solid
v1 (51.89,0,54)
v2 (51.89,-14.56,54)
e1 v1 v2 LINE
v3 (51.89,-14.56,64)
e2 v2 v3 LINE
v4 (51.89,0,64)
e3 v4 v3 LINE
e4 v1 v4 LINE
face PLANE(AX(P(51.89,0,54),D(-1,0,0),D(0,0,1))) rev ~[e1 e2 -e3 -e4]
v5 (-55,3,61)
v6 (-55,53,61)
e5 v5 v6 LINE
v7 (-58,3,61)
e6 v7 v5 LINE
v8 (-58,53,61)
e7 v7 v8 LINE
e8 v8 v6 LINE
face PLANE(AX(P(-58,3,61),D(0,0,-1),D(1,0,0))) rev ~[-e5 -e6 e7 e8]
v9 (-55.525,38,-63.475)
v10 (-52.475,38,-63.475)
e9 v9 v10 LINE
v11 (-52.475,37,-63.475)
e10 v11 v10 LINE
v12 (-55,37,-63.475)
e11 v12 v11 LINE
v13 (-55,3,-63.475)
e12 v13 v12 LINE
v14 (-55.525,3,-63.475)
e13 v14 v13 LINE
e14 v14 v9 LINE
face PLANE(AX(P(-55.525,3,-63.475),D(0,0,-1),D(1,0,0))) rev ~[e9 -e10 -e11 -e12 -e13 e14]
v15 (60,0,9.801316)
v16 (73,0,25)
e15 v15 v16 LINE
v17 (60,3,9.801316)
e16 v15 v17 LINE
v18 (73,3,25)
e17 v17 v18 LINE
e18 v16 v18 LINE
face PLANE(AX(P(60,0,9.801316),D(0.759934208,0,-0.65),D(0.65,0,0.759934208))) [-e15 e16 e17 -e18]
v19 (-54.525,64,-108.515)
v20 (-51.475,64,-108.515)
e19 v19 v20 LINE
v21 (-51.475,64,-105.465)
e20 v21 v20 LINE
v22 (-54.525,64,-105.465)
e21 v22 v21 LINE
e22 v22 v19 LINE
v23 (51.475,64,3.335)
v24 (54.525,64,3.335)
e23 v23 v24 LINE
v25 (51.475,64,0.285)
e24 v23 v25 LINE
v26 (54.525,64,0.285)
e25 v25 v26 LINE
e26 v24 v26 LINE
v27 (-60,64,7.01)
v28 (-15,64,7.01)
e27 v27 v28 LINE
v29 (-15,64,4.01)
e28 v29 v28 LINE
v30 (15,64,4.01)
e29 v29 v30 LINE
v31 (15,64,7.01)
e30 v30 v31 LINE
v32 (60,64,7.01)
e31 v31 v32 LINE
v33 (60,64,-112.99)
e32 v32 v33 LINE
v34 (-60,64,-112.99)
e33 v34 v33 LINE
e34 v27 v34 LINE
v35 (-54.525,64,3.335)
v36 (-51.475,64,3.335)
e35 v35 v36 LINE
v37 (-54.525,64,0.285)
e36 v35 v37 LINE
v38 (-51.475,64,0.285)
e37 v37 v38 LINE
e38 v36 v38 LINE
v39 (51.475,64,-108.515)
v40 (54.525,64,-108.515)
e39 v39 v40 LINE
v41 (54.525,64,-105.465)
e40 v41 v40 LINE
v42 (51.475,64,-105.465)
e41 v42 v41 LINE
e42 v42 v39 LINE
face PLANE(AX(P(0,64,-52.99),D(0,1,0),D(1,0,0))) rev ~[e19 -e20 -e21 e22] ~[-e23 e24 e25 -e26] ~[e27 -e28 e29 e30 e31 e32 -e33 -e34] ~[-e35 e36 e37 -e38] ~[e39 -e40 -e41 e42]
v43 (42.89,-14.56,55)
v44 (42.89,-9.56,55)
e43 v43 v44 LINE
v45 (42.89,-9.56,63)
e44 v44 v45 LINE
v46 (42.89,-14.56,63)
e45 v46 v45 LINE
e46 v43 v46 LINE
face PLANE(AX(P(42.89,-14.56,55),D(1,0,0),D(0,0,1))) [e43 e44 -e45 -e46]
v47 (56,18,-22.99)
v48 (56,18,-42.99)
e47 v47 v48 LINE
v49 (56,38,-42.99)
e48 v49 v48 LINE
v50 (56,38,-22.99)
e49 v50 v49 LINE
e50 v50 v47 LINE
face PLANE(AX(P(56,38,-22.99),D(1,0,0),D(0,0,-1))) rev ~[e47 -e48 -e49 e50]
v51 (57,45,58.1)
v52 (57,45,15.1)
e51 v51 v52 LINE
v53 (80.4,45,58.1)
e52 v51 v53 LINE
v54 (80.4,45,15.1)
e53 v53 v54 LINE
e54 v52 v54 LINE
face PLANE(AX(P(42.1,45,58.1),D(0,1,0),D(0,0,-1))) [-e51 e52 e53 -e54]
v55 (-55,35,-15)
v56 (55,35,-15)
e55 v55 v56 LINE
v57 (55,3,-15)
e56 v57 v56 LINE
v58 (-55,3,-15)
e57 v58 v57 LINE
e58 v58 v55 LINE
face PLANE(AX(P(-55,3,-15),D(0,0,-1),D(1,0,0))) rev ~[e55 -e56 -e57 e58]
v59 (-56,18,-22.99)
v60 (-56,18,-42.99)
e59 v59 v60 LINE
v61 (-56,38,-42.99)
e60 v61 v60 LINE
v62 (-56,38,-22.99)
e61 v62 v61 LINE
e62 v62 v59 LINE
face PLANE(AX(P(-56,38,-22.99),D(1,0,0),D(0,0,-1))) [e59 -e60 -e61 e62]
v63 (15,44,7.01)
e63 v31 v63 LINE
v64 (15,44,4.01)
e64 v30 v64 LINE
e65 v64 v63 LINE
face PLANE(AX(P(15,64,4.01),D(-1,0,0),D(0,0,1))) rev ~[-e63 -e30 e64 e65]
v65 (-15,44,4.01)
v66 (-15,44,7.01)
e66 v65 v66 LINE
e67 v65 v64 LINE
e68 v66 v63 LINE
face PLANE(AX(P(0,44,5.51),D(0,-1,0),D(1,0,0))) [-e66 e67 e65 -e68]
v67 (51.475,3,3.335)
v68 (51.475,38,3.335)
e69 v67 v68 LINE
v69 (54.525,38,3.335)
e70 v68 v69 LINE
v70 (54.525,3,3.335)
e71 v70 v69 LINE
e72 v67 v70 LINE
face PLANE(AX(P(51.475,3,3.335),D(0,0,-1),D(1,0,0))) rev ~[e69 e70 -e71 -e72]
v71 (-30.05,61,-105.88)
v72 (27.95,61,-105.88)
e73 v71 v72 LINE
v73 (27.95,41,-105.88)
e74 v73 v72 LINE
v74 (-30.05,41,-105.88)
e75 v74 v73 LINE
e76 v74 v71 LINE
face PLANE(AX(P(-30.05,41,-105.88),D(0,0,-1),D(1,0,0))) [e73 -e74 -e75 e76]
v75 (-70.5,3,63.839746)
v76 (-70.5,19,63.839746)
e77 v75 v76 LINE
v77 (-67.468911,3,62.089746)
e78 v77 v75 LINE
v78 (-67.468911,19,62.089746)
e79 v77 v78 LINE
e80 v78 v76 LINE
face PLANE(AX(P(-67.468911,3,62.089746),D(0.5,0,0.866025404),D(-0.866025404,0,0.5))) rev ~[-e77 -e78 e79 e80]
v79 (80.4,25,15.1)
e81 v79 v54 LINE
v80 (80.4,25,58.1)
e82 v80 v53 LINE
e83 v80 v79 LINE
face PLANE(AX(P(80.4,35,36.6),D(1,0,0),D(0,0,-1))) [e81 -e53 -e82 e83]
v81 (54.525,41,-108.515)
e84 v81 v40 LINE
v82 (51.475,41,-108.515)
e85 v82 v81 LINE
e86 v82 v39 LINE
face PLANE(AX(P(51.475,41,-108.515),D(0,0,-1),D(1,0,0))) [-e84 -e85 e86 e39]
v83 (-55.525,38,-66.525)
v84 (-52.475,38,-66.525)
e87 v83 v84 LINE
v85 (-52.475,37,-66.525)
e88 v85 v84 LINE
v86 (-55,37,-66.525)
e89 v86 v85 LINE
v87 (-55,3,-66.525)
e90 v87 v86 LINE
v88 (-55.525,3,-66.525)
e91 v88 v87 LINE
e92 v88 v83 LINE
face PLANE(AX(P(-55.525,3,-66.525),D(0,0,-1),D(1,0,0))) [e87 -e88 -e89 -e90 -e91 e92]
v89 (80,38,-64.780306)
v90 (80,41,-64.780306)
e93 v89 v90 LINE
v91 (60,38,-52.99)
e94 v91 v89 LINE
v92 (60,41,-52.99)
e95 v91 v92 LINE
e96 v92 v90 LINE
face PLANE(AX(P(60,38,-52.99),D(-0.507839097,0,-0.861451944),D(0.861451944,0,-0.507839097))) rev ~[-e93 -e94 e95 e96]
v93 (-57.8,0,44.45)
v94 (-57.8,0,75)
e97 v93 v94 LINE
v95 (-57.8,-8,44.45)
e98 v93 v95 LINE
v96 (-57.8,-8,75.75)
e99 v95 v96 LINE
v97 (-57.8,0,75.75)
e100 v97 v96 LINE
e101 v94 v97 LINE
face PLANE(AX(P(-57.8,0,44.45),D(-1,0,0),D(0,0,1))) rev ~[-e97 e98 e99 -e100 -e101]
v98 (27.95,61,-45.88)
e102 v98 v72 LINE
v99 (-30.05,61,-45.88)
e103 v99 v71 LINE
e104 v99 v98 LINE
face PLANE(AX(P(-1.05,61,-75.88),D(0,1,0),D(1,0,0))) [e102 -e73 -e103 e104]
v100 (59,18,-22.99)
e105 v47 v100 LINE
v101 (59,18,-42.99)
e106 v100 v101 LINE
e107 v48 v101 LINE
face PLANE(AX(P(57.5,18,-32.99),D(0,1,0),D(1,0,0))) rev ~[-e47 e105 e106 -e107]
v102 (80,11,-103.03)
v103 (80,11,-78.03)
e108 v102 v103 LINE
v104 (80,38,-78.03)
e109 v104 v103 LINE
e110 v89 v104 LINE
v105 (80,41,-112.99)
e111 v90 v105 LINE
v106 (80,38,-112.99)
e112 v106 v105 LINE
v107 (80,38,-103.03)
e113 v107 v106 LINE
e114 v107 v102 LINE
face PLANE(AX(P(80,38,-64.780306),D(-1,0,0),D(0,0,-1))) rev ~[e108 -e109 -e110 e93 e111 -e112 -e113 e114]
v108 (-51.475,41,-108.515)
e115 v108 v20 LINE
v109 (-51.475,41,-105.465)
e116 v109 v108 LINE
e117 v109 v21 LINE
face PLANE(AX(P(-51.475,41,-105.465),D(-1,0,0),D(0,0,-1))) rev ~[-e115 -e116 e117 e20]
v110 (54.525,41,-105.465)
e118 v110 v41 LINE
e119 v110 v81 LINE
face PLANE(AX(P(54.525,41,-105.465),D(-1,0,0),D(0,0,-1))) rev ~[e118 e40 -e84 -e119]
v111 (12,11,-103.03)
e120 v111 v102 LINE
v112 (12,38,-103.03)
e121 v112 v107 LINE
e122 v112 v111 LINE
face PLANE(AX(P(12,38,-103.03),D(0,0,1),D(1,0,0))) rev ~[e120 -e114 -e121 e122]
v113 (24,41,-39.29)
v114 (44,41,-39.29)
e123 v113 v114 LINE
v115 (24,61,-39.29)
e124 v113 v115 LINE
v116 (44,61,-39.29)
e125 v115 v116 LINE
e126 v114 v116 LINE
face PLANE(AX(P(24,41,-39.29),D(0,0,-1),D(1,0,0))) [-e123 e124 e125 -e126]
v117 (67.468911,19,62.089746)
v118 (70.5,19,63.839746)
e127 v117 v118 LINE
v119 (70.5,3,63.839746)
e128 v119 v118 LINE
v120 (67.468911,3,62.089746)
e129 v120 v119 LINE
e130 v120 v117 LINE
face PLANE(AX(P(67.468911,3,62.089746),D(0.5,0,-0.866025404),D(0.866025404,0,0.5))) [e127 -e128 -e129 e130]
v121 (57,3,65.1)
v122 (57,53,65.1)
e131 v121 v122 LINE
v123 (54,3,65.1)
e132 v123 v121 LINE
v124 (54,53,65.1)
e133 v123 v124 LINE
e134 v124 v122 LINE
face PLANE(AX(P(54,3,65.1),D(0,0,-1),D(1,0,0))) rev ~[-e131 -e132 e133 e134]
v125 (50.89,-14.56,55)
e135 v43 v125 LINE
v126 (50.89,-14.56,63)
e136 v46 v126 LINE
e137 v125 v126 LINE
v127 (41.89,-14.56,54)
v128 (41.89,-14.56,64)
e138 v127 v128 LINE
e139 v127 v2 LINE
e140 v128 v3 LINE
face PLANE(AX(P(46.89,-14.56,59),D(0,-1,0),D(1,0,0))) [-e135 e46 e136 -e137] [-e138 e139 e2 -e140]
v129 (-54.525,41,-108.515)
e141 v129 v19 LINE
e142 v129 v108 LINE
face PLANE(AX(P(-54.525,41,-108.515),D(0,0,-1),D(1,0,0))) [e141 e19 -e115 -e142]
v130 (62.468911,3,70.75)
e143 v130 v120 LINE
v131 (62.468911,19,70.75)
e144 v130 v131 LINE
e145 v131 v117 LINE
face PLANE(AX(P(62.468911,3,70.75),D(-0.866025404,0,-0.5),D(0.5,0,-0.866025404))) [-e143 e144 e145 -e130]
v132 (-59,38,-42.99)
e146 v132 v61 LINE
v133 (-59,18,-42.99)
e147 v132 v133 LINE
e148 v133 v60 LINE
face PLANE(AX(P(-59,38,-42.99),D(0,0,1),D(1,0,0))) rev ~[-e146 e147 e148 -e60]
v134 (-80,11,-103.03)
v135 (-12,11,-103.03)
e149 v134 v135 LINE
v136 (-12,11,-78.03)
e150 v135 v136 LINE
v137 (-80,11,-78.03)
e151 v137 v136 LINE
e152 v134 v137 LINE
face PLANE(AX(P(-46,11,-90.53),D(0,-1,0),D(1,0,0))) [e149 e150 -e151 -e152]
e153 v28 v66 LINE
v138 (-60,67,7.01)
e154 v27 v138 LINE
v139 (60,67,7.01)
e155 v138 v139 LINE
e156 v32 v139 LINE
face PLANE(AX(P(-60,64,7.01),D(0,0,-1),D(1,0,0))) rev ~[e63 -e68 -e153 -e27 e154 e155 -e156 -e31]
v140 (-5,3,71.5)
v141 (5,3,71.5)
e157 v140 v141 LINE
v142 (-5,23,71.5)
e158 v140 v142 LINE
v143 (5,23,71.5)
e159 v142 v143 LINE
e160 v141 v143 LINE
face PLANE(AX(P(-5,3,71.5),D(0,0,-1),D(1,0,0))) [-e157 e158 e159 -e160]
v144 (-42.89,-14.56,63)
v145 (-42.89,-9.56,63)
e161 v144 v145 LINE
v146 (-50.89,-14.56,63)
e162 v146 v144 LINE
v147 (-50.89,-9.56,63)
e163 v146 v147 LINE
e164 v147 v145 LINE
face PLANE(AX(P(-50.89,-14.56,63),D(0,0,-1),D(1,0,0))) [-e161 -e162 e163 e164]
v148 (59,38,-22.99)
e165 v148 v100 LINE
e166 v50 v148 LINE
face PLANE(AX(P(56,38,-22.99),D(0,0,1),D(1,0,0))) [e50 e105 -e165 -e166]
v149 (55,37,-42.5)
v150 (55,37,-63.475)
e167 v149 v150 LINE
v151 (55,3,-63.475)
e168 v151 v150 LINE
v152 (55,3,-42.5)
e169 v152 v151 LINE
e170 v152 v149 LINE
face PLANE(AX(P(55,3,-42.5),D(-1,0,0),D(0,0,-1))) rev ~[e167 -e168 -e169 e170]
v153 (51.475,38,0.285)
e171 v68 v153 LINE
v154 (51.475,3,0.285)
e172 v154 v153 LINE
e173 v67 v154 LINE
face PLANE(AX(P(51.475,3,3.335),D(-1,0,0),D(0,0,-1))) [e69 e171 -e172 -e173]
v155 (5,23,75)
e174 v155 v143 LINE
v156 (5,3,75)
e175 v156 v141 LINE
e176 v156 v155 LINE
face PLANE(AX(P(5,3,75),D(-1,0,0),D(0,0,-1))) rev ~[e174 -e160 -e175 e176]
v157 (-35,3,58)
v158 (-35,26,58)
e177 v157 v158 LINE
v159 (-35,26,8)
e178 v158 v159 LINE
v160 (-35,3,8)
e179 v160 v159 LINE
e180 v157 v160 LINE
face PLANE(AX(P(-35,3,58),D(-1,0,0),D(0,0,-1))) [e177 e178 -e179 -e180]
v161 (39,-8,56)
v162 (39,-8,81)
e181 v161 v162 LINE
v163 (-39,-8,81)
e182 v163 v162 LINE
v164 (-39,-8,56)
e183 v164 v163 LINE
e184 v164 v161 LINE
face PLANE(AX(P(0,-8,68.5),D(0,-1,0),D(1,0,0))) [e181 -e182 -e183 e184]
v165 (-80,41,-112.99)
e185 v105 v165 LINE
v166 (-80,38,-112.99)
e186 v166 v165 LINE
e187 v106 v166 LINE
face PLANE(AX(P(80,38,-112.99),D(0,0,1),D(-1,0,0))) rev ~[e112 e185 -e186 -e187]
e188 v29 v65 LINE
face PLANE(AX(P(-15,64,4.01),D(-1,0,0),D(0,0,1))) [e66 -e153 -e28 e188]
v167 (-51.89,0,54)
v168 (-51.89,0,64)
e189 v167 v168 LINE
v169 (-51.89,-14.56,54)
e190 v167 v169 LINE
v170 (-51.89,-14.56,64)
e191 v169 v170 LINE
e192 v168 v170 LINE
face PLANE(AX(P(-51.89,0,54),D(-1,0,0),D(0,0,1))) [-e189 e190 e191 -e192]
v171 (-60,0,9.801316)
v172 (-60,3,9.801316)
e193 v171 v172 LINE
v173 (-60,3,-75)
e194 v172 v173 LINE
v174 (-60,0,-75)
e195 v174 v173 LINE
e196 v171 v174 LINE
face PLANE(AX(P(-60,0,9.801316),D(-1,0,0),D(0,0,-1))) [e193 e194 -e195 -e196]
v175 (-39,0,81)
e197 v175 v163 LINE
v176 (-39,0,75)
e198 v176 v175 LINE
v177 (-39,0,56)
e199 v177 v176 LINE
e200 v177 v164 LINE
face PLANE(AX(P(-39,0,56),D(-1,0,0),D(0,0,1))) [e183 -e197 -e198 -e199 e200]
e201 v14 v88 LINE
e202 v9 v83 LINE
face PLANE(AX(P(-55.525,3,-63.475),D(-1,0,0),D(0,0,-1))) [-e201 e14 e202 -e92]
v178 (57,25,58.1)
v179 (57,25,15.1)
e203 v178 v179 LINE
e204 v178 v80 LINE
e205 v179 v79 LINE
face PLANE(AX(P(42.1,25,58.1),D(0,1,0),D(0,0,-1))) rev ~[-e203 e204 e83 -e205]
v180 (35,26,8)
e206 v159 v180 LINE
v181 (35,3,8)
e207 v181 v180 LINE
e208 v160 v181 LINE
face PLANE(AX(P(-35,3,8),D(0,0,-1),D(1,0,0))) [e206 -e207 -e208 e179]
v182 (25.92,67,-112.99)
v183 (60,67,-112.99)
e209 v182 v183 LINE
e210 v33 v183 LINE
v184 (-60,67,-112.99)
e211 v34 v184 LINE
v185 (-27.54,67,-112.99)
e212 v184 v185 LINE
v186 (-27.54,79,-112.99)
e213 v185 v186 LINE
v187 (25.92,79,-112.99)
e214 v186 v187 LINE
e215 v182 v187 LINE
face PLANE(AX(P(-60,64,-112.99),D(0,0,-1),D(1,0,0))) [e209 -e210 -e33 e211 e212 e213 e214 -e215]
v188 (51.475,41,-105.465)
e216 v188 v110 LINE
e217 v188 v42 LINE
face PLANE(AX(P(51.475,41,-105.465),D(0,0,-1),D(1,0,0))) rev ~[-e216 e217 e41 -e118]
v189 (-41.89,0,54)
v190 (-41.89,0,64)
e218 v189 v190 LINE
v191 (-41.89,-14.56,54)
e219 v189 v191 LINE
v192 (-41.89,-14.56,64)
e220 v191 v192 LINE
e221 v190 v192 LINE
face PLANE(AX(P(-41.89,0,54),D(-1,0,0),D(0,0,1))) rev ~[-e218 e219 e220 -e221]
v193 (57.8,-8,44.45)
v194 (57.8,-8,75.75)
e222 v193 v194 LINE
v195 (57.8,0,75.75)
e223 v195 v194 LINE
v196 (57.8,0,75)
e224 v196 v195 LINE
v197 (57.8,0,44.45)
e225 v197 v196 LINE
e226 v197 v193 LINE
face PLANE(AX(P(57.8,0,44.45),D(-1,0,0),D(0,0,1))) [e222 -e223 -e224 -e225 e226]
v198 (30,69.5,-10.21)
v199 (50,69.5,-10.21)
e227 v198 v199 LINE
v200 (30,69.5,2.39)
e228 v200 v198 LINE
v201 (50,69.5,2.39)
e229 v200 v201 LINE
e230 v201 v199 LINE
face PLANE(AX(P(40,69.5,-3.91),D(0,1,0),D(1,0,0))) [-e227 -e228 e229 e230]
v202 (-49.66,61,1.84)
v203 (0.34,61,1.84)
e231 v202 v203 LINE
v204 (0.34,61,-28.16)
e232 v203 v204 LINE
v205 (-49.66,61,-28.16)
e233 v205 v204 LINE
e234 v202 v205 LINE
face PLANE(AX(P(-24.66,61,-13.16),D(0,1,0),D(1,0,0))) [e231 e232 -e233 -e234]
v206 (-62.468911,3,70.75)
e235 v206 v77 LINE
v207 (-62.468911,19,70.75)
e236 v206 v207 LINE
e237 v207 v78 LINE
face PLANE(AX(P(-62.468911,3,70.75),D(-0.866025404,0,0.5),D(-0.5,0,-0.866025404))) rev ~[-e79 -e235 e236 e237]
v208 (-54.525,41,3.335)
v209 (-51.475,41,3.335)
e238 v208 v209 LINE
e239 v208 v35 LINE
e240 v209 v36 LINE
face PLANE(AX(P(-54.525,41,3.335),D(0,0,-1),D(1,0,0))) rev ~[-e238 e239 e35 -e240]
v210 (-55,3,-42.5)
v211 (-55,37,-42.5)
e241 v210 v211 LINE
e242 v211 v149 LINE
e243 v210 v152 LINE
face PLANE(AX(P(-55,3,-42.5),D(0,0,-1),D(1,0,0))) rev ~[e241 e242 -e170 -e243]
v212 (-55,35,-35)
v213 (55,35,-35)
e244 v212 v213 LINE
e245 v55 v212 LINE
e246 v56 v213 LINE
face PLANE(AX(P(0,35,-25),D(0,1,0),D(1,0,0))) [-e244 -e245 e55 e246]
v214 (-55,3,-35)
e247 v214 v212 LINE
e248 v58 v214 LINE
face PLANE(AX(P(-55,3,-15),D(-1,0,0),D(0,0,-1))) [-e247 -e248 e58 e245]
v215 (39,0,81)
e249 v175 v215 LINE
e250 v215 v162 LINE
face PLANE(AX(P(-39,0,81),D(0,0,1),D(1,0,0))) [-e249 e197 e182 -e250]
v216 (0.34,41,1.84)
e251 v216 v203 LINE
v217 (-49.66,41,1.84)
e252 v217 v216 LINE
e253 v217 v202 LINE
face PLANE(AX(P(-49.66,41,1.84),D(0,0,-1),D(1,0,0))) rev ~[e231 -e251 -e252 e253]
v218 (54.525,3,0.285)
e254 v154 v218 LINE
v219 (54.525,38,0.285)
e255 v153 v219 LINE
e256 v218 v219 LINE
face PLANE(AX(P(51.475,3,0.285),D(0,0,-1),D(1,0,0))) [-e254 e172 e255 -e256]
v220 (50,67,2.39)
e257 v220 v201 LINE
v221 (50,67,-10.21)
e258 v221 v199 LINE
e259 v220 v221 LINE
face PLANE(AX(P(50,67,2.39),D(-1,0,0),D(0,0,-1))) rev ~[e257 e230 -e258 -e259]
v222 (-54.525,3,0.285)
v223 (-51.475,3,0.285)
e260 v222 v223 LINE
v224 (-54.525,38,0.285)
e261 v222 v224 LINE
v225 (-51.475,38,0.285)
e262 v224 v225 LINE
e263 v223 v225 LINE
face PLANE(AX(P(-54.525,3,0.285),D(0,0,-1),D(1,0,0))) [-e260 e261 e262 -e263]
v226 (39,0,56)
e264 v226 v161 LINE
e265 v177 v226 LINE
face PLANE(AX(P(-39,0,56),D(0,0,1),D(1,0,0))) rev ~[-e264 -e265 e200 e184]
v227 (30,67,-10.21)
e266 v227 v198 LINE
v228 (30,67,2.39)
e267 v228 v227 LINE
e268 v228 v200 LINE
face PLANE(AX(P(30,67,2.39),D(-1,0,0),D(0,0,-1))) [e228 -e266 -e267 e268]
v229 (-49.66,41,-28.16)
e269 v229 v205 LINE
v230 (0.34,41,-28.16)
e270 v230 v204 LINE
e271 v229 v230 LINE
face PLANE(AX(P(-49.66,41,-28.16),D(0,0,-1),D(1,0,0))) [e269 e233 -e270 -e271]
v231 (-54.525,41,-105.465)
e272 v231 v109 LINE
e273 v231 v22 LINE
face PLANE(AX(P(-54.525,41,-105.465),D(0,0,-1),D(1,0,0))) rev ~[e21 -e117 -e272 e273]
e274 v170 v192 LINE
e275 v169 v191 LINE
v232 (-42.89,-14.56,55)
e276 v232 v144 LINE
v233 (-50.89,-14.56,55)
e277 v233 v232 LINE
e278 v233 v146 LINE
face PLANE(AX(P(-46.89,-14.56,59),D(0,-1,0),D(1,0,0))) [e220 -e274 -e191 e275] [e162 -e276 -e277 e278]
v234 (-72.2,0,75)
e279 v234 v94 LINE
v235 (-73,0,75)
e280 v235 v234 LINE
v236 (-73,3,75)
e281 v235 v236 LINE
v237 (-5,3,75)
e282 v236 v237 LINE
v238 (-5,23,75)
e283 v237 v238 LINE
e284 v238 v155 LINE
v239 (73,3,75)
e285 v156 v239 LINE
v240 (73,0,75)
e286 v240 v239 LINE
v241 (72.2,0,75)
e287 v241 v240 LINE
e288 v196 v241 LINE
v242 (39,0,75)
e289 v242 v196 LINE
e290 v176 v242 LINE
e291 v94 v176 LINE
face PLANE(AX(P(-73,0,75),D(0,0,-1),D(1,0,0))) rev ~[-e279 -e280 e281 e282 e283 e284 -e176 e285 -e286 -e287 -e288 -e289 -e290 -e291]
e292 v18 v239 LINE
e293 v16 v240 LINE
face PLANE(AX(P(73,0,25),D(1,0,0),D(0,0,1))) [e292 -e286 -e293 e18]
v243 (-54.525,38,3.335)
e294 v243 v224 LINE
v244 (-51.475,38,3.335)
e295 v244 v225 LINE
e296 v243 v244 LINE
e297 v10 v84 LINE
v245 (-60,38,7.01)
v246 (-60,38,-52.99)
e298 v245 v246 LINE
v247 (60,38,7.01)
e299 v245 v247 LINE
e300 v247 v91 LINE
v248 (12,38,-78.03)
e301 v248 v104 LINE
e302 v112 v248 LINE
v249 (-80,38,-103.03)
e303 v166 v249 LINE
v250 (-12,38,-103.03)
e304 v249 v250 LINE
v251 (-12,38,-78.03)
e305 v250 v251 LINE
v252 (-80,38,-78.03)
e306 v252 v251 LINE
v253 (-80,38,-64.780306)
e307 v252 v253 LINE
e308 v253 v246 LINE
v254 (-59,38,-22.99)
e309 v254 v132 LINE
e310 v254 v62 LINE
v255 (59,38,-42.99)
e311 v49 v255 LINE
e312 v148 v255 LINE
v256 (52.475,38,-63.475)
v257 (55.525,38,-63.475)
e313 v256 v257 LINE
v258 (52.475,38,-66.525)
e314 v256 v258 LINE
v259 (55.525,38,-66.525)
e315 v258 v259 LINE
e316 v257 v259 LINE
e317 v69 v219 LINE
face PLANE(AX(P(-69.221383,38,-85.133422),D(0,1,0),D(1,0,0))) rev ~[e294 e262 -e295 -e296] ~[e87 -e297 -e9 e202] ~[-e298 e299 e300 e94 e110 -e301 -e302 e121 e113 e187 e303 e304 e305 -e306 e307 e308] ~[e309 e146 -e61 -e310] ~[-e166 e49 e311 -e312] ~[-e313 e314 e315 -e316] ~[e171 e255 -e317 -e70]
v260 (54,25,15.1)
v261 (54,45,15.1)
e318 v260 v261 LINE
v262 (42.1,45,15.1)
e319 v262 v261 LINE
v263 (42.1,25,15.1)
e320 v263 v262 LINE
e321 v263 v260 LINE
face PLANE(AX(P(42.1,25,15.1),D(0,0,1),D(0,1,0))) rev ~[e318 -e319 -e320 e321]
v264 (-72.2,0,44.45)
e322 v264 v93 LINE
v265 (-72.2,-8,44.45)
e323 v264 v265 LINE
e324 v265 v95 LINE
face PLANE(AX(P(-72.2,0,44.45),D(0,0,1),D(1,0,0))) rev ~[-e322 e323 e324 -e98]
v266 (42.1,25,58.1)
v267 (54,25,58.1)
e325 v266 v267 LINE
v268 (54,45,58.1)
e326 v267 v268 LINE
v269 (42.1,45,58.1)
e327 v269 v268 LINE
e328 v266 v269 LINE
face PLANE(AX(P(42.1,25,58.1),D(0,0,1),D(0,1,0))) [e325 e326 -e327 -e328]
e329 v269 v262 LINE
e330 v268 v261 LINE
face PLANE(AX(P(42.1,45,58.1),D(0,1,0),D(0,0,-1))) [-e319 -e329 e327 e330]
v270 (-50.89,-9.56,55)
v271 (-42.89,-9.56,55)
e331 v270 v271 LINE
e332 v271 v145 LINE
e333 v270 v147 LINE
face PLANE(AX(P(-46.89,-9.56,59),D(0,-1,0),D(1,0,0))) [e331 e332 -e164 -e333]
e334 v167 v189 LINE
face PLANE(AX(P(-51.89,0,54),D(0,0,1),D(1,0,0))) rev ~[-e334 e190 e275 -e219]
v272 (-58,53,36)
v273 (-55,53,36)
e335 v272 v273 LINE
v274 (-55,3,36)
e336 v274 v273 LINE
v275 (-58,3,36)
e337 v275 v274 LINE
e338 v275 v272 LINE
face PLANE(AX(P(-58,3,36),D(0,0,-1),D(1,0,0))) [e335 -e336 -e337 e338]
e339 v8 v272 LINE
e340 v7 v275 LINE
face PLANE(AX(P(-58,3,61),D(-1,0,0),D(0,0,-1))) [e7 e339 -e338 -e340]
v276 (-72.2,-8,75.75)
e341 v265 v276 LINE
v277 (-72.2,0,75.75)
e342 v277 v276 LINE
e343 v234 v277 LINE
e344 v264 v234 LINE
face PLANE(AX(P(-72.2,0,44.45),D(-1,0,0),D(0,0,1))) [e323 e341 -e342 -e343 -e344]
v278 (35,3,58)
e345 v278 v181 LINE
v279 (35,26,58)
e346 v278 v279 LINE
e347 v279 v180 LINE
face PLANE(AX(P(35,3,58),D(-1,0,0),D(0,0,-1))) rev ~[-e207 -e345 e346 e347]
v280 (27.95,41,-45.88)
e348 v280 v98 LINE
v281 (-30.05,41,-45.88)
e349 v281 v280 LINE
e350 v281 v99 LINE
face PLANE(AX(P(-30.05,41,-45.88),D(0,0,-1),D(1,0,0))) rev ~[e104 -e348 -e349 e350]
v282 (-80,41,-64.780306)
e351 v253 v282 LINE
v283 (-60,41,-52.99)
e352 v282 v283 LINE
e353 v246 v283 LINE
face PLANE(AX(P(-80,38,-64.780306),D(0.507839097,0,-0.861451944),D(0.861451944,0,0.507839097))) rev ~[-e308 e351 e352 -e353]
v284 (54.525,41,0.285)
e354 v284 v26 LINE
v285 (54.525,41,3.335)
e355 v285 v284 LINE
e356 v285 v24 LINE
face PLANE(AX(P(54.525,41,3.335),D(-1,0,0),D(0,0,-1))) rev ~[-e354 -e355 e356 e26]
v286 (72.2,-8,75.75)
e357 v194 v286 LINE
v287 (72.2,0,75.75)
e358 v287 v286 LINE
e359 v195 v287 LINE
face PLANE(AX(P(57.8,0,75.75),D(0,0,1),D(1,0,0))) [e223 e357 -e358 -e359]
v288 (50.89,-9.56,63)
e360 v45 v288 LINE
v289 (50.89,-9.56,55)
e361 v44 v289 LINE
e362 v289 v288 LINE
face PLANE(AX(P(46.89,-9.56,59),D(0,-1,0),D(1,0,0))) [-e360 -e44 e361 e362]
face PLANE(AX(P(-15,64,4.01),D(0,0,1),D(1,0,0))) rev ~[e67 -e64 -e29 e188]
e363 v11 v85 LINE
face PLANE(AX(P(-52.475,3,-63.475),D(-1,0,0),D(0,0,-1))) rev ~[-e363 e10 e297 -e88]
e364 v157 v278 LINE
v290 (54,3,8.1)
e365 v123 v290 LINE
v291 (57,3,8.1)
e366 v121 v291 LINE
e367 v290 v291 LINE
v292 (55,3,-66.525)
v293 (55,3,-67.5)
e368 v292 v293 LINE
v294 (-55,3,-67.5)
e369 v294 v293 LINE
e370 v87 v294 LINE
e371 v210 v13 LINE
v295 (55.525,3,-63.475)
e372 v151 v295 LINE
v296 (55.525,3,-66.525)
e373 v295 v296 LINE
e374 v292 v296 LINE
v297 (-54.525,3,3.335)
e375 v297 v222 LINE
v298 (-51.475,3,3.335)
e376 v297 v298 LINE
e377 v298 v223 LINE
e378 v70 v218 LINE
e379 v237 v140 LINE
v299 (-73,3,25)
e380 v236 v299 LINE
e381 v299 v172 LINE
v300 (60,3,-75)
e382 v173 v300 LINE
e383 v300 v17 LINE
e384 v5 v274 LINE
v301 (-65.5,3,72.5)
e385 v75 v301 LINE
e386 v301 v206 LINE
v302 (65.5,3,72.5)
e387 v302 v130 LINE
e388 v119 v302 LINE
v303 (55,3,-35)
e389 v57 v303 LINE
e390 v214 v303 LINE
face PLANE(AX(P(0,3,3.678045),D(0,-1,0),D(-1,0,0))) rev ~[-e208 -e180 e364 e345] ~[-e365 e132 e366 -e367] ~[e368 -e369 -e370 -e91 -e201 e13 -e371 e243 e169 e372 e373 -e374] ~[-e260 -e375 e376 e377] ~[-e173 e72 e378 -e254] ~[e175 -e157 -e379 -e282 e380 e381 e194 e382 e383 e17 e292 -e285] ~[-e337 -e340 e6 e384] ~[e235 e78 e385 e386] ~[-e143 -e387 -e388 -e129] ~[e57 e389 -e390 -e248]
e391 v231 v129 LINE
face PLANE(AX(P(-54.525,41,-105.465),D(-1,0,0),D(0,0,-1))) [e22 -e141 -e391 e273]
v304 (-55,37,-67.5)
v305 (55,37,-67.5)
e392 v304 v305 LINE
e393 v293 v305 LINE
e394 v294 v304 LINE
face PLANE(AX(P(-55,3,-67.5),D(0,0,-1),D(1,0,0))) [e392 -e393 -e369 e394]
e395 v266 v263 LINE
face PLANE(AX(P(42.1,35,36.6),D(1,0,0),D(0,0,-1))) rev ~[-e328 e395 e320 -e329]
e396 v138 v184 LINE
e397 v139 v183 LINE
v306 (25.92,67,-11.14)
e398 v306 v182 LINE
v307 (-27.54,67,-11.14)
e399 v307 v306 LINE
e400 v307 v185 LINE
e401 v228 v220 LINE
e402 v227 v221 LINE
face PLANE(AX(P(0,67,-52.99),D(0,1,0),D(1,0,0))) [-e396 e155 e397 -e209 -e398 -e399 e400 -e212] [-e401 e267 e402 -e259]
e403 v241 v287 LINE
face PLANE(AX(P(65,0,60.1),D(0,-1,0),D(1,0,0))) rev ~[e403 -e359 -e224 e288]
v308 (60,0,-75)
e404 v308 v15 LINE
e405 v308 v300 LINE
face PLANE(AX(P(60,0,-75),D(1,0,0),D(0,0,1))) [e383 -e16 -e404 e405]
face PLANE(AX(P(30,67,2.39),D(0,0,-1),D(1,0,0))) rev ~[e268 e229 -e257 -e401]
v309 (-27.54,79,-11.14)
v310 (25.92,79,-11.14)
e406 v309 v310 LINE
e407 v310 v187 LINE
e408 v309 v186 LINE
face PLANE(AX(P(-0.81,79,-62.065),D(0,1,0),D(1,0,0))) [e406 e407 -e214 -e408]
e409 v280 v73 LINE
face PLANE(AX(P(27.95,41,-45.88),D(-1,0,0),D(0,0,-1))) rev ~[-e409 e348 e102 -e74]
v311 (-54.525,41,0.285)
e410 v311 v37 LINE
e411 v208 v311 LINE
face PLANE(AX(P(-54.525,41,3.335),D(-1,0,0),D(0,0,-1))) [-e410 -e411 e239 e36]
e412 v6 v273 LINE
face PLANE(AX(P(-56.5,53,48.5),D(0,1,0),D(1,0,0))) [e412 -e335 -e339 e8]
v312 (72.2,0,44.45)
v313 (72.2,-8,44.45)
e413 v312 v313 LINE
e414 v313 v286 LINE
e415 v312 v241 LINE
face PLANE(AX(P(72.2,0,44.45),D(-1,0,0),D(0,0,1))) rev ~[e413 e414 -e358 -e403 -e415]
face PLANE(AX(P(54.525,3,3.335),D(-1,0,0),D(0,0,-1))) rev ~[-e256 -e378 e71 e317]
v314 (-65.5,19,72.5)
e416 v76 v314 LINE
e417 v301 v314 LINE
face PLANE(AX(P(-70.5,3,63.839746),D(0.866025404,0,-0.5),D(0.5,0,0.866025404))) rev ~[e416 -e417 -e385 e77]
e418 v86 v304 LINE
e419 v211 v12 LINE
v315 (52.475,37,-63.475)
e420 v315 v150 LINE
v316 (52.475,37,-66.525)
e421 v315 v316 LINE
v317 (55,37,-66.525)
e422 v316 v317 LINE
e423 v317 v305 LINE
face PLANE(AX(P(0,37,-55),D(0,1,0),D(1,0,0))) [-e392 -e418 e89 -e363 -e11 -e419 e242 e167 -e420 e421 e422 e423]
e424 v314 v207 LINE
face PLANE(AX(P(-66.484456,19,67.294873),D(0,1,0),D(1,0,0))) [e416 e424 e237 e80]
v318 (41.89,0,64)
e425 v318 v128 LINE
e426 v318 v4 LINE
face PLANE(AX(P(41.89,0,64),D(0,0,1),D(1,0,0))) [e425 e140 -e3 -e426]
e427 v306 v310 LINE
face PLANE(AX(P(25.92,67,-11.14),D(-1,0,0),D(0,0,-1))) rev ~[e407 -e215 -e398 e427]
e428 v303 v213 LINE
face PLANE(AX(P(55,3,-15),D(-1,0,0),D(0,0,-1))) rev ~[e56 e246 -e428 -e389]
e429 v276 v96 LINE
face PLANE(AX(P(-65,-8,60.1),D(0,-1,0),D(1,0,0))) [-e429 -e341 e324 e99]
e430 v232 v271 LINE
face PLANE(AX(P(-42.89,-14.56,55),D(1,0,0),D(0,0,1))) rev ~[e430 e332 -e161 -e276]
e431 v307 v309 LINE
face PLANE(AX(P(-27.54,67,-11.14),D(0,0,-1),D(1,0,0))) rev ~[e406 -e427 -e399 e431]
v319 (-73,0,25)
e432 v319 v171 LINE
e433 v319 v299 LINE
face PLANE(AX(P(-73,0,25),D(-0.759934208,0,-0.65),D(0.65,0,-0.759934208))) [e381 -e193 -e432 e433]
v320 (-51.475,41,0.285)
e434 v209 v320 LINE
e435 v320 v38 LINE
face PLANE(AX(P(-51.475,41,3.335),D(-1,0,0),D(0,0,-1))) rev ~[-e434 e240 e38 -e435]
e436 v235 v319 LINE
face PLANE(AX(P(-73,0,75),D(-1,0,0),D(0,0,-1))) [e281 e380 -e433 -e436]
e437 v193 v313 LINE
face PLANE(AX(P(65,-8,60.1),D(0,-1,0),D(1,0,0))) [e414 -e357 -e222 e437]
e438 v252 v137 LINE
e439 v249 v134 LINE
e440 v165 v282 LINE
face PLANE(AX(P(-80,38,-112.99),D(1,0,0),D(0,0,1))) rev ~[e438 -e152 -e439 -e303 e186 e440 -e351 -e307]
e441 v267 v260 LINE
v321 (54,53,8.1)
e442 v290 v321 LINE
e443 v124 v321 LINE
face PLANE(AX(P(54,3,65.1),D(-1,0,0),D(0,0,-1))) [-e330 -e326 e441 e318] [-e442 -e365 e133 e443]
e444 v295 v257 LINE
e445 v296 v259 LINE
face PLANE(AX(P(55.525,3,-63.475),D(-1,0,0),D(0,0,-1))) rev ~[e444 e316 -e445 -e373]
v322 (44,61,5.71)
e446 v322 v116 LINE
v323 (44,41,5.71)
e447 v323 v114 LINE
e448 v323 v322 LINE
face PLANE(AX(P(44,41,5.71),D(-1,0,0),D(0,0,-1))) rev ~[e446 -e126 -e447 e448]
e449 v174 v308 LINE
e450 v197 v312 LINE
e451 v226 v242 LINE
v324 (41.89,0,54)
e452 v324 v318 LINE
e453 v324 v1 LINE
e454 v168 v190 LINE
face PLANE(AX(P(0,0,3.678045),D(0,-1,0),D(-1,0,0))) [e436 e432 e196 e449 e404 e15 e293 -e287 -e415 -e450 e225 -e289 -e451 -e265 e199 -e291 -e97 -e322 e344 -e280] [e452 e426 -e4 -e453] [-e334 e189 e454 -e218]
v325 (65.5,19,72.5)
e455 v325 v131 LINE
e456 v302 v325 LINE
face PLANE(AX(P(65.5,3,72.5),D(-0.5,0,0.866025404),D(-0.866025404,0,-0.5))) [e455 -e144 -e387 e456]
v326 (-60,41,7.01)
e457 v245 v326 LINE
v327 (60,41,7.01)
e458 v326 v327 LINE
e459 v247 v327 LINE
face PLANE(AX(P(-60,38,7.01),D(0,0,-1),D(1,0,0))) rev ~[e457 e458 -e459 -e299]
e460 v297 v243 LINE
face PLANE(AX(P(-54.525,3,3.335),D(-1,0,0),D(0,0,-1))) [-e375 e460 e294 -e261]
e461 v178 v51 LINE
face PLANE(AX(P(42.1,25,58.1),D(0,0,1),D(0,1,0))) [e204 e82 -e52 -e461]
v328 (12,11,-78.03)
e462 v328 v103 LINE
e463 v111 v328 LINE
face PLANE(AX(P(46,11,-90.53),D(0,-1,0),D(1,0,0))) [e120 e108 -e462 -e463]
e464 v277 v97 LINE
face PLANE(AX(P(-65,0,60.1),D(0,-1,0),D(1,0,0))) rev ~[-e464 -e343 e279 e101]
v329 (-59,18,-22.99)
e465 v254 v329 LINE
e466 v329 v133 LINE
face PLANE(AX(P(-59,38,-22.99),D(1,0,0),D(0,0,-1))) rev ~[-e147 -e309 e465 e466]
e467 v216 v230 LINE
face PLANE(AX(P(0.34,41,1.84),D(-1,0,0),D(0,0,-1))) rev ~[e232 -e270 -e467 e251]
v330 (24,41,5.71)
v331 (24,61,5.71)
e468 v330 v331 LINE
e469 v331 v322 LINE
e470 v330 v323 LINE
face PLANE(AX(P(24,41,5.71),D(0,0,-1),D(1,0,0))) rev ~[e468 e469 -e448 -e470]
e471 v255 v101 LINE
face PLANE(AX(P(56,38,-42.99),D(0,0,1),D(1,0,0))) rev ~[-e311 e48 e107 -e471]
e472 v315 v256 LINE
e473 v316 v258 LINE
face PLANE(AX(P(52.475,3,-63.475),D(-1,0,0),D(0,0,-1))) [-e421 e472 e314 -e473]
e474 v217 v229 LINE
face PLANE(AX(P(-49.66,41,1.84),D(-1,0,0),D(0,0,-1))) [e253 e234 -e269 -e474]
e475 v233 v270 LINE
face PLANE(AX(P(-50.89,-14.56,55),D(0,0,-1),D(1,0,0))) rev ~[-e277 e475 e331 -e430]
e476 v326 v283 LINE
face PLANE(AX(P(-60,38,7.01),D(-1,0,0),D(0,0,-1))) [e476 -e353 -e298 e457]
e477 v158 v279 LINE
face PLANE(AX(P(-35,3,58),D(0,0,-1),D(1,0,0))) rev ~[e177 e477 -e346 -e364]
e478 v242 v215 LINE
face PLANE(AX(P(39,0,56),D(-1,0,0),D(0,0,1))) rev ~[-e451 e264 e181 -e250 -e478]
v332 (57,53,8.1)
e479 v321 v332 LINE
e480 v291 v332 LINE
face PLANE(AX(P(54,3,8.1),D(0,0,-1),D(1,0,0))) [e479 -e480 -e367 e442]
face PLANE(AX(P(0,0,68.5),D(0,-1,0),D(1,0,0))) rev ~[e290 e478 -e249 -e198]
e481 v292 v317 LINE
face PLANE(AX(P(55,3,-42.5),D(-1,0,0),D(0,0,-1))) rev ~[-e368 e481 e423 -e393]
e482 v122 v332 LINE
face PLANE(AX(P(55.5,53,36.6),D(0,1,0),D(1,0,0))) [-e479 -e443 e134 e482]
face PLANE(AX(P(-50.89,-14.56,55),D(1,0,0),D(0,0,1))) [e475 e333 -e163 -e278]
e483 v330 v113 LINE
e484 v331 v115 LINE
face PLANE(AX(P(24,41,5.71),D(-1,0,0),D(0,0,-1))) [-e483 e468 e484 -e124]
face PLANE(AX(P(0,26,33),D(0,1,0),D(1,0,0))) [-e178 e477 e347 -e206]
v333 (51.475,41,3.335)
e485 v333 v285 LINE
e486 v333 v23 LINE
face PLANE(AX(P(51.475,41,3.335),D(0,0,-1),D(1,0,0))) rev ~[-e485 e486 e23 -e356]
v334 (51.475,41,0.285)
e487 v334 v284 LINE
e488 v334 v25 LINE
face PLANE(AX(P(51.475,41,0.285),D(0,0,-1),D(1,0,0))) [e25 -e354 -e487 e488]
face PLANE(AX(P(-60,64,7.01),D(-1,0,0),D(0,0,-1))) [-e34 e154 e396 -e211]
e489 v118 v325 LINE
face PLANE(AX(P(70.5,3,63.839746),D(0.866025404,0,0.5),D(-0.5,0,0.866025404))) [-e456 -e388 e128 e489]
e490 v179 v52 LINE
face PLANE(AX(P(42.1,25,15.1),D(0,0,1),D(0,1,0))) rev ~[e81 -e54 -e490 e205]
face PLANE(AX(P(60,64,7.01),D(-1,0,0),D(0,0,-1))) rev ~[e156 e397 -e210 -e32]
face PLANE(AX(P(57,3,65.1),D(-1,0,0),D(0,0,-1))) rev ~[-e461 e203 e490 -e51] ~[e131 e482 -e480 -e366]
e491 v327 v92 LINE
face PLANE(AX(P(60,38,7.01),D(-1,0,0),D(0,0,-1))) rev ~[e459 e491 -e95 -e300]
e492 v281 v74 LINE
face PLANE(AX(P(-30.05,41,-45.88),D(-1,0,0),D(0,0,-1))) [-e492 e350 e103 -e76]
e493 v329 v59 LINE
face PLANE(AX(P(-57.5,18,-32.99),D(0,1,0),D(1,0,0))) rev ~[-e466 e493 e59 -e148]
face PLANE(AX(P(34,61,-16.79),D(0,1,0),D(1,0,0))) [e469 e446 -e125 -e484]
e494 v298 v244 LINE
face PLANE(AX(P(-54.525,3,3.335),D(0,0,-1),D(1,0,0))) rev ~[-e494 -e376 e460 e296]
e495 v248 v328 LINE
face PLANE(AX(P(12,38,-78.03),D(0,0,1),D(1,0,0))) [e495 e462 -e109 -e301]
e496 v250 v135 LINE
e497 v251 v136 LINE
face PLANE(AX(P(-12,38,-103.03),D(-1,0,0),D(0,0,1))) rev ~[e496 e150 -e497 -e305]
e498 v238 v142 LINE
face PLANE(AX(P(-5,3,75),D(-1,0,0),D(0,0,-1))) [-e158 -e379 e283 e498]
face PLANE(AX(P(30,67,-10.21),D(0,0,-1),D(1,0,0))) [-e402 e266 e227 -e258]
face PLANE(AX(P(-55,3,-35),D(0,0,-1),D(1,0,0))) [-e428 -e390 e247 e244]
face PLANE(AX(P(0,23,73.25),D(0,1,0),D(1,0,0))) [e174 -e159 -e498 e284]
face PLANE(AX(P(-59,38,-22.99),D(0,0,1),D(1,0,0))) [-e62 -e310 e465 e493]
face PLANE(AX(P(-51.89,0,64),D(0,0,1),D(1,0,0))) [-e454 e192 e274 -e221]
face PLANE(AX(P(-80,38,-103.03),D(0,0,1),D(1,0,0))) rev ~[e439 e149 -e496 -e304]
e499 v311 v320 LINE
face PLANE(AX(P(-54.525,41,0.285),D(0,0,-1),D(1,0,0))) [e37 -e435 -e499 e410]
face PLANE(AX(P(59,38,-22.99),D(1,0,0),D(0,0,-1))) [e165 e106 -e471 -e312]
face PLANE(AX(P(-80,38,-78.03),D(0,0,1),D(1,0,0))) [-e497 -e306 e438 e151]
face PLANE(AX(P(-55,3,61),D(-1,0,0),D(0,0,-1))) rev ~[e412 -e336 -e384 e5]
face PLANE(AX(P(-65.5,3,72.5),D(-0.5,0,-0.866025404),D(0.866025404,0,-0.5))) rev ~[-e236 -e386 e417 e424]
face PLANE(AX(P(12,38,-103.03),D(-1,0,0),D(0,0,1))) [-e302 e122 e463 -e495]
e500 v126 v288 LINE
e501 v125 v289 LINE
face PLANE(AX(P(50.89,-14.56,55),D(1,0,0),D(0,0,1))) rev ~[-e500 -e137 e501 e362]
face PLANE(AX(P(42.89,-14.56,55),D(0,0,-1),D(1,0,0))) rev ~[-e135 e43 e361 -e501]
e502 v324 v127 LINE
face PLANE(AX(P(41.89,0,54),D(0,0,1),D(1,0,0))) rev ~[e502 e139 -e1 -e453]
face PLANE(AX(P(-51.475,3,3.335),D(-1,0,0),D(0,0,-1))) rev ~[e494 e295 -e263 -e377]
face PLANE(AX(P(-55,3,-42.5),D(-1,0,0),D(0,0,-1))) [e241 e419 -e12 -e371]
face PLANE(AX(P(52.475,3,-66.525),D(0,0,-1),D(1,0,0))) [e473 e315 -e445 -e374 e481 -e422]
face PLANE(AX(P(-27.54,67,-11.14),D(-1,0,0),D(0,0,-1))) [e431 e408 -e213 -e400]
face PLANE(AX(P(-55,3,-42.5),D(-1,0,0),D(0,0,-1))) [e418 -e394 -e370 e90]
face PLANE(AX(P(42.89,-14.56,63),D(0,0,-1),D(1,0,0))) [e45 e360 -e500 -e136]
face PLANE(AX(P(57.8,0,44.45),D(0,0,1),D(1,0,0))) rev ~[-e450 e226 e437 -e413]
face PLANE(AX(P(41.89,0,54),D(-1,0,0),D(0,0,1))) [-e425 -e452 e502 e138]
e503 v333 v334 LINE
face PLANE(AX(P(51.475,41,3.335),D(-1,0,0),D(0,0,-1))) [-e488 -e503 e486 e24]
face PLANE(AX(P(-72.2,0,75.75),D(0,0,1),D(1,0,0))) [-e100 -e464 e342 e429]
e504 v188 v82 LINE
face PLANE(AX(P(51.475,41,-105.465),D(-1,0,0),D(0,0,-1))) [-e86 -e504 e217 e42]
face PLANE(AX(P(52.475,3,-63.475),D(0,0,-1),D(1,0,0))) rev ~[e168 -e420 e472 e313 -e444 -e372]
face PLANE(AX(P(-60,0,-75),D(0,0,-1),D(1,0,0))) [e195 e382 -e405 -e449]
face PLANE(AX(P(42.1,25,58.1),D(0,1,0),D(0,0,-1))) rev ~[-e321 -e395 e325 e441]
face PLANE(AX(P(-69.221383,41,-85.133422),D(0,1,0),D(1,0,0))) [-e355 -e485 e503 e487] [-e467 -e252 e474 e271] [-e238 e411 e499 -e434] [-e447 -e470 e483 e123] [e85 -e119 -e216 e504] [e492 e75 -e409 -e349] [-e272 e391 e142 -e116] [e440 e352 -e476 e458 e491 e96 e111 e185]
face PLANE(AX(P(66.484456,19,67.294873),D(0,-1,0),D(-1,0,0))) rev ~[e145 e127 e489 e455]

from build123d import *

# Parameters (mm, degrees)
BOSS_EXTRUDE1_DEPTH       = 3
SKETCH2_W                 = 3.05
SKETCH2_H                 = 3.05
BOSS_EXTRUDE2_DEPTH       = 35
SKETCH3_W                 = 120
SKETCH3_H                 = 120
BOSS_EXTRUDE3_DEPTH       = 3
SKETCH4_W                 = 3.05
SKETCH4_H                 = 3.05
BOSS_EXTRUDE4_DEPTH       = 23
SKETCH6_W                 = 120
SKETCH6_H                 = 120
BOSS_EXTRUDE5_DEPTH       = 3
SKETCH7_W                 = 68
SKETCH7_H                 = 25
BOSS_EXTRUDE6_DEPTH       = 27
SKETCH9_W                 = 58
SKETCH9_H                 = 60
SKETCH9_W_2               = 20
SKETCH9_H_2               = 45
SKETCH9_W_3               = 50
SKETCH9_H_3               = 30
BOSS_EXTRUDE7_DEPTH       = 20
SKETCH10_W                = 53.46
SKETCH10_H                = 101.85
BOSS_EXTRUDE8_DEPTH       = 12
SKETCH11_W                = 110
SKETCH11_H                = 20
BOSS_EXTRUDE9_DEPTH       = 32
SKETCH12_W                = 110
SKETCH12_H                = 25
BOSS_EXTRUDE10_DEPTH      = 34
SKETCH13_W                = 20
SKETCH13_H                = 12.6
BOSS_EXTRUDE11_DEPTH      = 2.5
SKETCH14_W                = 3
SKETCH14_H                = 20
BOSS_EXTRUDE12_DEPTH      = 20
BOSS_EXTRUDE13_DEPTH      = 16
SKETCH16_W                = 3
SKETCH16_H                = 57
SKETCH16_H_2              = 25
BOSS_EXTRUDE14_DEPTH      = 50
BOSS_EXTRUDE15_DEPTH      = 23.4
BOSS_EXTRUDE15_DEPTH_BACK = 14.9
SKETCH17_W                = 43
SKETCH17_H                = 20
SKETCH18_W                = 78
SKETCH18_H                = 25
SKETCH18_W_2              = 14.4
SKETCH18_H_2              = 31.3
BOSS_EXTRUDE16_DEPTH      = 8
SKETCH20_W                = 10
SKETCH20_H                = 10
BOSS_EXTRUDE18_DEPTH      = 14.56
SKETCH21_W                = 8
SKETCH21_H                = 8
CUT_EXTRUDE1_DEPTH        = 5
SKETCH22_W                = 10
SKETCH22_H                = 3.5
BOSS_EXTRUDE19_DEPTH      = 20
SKETCH23_W                = 30
SKETCH23_H                = 3
BOSS_EXTRUDE20_DEPTH      = 20
SKETCH24_W                = 70
SKETCH24_H                = 50
BOSS_EXTRUDE21_DEPTH      = 23


with BuildPart() as part:
    # Sketch1 → Boss-Extrude1 (new body)
    with BuildSketch(Plane(origin=(0, 0, 0), x_dir=(1, 0, 0), z_dir=(0, 1, 0))):
        Polygon((-73, -25), (-60, -9.801315846), (-60, 75), (60, 75), (60, -9.801315846), (73, -25), (73, -75), (60, -75), (-60, -75), (-73, -75), align=None)
    extrude(amount=BOSS_EXTRUDE1_DEPTH)

    # Sketch2 → Boss-Extrude2 (add)
    with BuildSketch(Plane(origin=(0, 3, 0), x_dir=(1, 0, 0), z_dir=(0, 1, 0))):
        with Locations((-53, -1.81)):
            Rectangle(SKETCH2_W, SKETCH2_H)
        with Locations((53, -1.81)):
            Rectangle(SKETCH2_W, SKETCH2_H)
        with Locations((54, 65)):
            Rectangle(SKETCH2_W, SKETCH2_H)
        with Locations((-54, 65)):
            Rectangle(SKETCH2_W, SKETCH2_H)
    extrude(amount=BOSS_EXTRUDE2_DEPTH)

    # Sketch3 → Boss-Extrude3 (add)
    with BuildSketch(Plane(origin=(0, 38, 0), x_dir=(1, 0, 0), z_dir=(0, 1, 0))):
        Polygon((-80, 64.780305915), (-60, 52.99), (-60, 112.99), (-80, 112.99), align=None)
        with Locations((0, 52.99)):
            Rectangle(SKETCH3_W, SKETCH3_H)
        Polygon((60, 112.99), (60, 52.99), (80, 64.780305915), (80, 112.99), align=None)
    extrude(amount=BOSS_EXTRUDE3_DEPTH)

    # Sketch4 → Boss-Extrude4 (add)
    with BuildSketch(Plane(origin=(0, 41, 0), x_dir=(1, 0, 0), z_dir=(0, 1, 0))):
        with Locations((-53, -1.81)):
            Rectangle(SKETCH4_W, SKETCH4_H)
        with Locations((-53, 106.99)):
            Rectangle(SKETCH4_W, SKETCH4_H)
        with Locations((53, -1.81)):
            Rectangle(SKETCH4_W, SKETCH4_H)
        with Locations((53, 106.99)):
            Rectangle(SKETCH4_W, SKETCH4_H)
    extrude(amount=BOSS_EXTRUDE4_DEPTH)

    # Sketch6 → Boss-Extrude5 (add)
    with BuildSketch(Plane(origin=(0, 64, 0), x_dir=(1, 0, 0), z_dir=(0, 1, 0))):
        with Locations((0, 52.99)):
            Rectangle(SKETCH6_W, SKETCH6_H)
    extrude(amount=BOSS_EXTRUDE5_DEPTH)

    # Sketch7 → Boss-Extrude6 (add)
    with BuildSketch(Plane.XZ.offset(-38)):
        with Locations((-46, -90.53)):
            Rectangle(SKETCH7_W, SKETCH7_H)
        with Locations((46, -90.53)):
            Rectangle(SKETCH7_W, SKETCH7_H)
    extrude(amount=BOSS_EXTRUDE6_DEPTH)

    # Sketch9 → Boss-Extrude7 (add)
    with BuildSketch(Plane(origin=(0, 41, 0), x_dir=(1, 0, 0), z_dir=(0, 1, 0))):
        with Locations((-1.05, 75.88)):
            Rectangle(SKETCH9_W, SKETCH9_H)
        with Locations((34, 16.79)):
            Rectangle(SKETCH9_W_2, SKETCH9_H_2)
        with Locations((-24.66, 13.16)):
            Rectangle(SKETCH9_W_3, SKETCH9_H_3)
    extrude(amount=BOSS_EXTRUDE7_DEPTH)

    # Sketch10 → Boss-Extrude8 (add)
    with BuildSketch(Plane(origin=(0, 67, 0), x_dir=(1, 0, 0), z_dir=(0, 1, 0))):
        with Locations((-0.81, 62.065)):
            Rectangle(SKETCH10_W, SKETCH10_H)
    extrude(amount=BOSS_EXTRUDE8_DEPTH)

    # Sketch11 → Boss-Extrude9 (add)
    with BuildSketch(Plane(origin=(0, 3, 0), x_dir=(1, 0, 0), z_dir=(0, 1, 0))):
        with Locations((0, 25)):
            Rectangle(SKETCH11_W, SKETCH11_H)
    extrude(amount=BOSS_EXTRUDE9_DEPTH)

    # Sketch12 → Boss-Extrude10 (add)
    with BuildSketch(Plane(origin=(0, 3, 0), x_dir=(1, 0, 0), z_dir=(0, 1, 0))):
        with Locations((0, 55)):
            Rectangle(SKETCH12_W, SKETCH12_H)
    extrude(amount=BOSS_EXTRUDE10_DEPTH)

    # Sketch13 → Boss-Extrude11 (add)
    with BuildSketch(Plane(origin=(0, 67, 0), x_dir=(1, 0, 0), z_dir=(0, 1, 0))):
        with Locations((40, 3.91)):
            Rectangle(SKETCH13_W, SKETCH13_H)
    extrude(amount=BOSS_EXTRUDE11_DEPTH)

    # Sketch14 → Boss-Extrude12 (add)
    with BuildSketch(Plane(origin=(0, 38, 0), x_dir=(1, 0, 0), z_dir=(0, 1, 0))):
        with Locations((57.5, 32.99)):
            Rectangle(SKETCH14_W, SKETCH14_H)
        with Locations((-57.5, 32.99)):
            Rectangle(SKETCH14_W, SKETCH14_H)
    extrude(amount=-BOSS_EXTRUDE12_DEPTH)

    # Sketch15 → Boss-Extrude13 (add)
    with BuildSketch(Plane(origin=(0, 3, 0), x_dir=(1, 0, 0), z_dir=(0, 1, 0))):
        Polygon((65.5, -72.5), (62.468911087, -70.75), (67.468911087, -62.089745962), (70.5, -63.839745962), align=None)
        Polygon((-70.5, -63.839745962), (-65.5, -72.5), (-62.468911087, -70.75), (-67.468911087, -62.089745962), align=None)
    extrude(amount=BOSS_EXTRUDE13_DEPTH)

    # Sketch16 → Boss-Extrude14 (add)
    with BuildSketch(Plane(origin=(0, 3, 0), x_dir=(1, 0, 0), z_dir=(0, 1, 0))):
        with Locations((55.5, -36.6)):
            Rectangle(SKETCH16_W, SKETCH16_H)
        with Locations((-56.5, -48.5)):
            Rectangle(SKETCH16_W, SKETCH16_H_2)
    extrude(amount=BOSS_EXTRUDE14_DEPTH)

    # Sketch17 → Boss-Extrude15 (add, two sides: drawn at the far end of the back side and taken through both)
    with BuildSketch(Plane(origin=(57, 0, 0), x_dir=(0, 0, -1), z_dir=(1, 0, 0)).offset(-BOSS_EXTRUDE15_DEPTH_BACK)):
        with Locations((-36.6, 35)):
            Rectangle(SKETCH17_W, SKETCH17_H)
    extrude(amount=BOSS_EXTRUDE15_DEPTH + BOSS_EXTRUDE15_DEPTH_BACK)

    # Sketch18 → Boss-Extrude16 (add)
    with BuildSketch(Plane.XZ):
        with Locations((0, 68.5)):
            Rectangle(SKETCH18_W, SKETCH18_H)
        with Locations((-65, 60.1)):
            Rectangle(SKETCH18_W_2, SKETCH18_H_2)
        with Locations((65, 60.1)):
            Rectangle(SKETCH18_W_2, SKETCH18_H_2)
    extrude(amount=BOSS_EXTRUDE16_DEPTH)

    # Sketch20 → Boss-Extrude18 (add)
    with BuildSketch(Plane.XZ):
        with Locations((-46.89, 59)):
            Rectangle(SKETCH20_W, SKETCH20_H)
        with Locations((46.89, 59)):
            Rectangle(SKETCH20_W, SKETCH20_H)
    extrude(amount=BOSS_EXTRUDE18_DEPTH)

    # Sketch21 → Cut-Extrude1 (cut)
    with BuildSketch(Plane.XZ.offset(14.56)):
        with Locations((46.89, 59)):
            Rectangle(SKETCH21_W, SKETCH21_H)
        with Locations((-46.89, 59)):
            Rectangle(SKETCH21_W, SKETCH21_H)
    extrude(amount=-CUT_EXTRUDE1_DEPTH, mode=Mode.SUBTRACT)

    # Sketch22 → Boss-Extrude19 (add)
    with BuildSketch(Plane(origin=(0, 3, 0), x_dir=(1, 0, 0), z_dir=(0, 1, 0))):
        with Locations((0, -73.25)):
            Rectangle(SKETCH22_W, SKETCH22_H)
    extrude(amount=BOSS_EXTRUDE19_DEPTH)

    # Sketch23 → Boss-Extrude20 (add)
    with BuildSketch(Plane.XZ.offset(-64)):
        with Locations((0, 5.51)):
            Rectangle(SKETCH23_W, SKETCH23_H)
    extrude(amount=BOSS_EXTRUDE20_DEPTH)

    # Sketch24 → Boss-Extrude21 (add)
    with BuildSketch(Plane(origin=(0, 3, 0), x_dir=(1, 0, 0), z_dir=(0, 1, 0))):
        with Locations((0, -33)):
            Rectangle(SKETCH24_W, SKETCH24_H)
    extrude(amount=BOSS_EXTRUDE21_DEPTH)


solid = part.part
